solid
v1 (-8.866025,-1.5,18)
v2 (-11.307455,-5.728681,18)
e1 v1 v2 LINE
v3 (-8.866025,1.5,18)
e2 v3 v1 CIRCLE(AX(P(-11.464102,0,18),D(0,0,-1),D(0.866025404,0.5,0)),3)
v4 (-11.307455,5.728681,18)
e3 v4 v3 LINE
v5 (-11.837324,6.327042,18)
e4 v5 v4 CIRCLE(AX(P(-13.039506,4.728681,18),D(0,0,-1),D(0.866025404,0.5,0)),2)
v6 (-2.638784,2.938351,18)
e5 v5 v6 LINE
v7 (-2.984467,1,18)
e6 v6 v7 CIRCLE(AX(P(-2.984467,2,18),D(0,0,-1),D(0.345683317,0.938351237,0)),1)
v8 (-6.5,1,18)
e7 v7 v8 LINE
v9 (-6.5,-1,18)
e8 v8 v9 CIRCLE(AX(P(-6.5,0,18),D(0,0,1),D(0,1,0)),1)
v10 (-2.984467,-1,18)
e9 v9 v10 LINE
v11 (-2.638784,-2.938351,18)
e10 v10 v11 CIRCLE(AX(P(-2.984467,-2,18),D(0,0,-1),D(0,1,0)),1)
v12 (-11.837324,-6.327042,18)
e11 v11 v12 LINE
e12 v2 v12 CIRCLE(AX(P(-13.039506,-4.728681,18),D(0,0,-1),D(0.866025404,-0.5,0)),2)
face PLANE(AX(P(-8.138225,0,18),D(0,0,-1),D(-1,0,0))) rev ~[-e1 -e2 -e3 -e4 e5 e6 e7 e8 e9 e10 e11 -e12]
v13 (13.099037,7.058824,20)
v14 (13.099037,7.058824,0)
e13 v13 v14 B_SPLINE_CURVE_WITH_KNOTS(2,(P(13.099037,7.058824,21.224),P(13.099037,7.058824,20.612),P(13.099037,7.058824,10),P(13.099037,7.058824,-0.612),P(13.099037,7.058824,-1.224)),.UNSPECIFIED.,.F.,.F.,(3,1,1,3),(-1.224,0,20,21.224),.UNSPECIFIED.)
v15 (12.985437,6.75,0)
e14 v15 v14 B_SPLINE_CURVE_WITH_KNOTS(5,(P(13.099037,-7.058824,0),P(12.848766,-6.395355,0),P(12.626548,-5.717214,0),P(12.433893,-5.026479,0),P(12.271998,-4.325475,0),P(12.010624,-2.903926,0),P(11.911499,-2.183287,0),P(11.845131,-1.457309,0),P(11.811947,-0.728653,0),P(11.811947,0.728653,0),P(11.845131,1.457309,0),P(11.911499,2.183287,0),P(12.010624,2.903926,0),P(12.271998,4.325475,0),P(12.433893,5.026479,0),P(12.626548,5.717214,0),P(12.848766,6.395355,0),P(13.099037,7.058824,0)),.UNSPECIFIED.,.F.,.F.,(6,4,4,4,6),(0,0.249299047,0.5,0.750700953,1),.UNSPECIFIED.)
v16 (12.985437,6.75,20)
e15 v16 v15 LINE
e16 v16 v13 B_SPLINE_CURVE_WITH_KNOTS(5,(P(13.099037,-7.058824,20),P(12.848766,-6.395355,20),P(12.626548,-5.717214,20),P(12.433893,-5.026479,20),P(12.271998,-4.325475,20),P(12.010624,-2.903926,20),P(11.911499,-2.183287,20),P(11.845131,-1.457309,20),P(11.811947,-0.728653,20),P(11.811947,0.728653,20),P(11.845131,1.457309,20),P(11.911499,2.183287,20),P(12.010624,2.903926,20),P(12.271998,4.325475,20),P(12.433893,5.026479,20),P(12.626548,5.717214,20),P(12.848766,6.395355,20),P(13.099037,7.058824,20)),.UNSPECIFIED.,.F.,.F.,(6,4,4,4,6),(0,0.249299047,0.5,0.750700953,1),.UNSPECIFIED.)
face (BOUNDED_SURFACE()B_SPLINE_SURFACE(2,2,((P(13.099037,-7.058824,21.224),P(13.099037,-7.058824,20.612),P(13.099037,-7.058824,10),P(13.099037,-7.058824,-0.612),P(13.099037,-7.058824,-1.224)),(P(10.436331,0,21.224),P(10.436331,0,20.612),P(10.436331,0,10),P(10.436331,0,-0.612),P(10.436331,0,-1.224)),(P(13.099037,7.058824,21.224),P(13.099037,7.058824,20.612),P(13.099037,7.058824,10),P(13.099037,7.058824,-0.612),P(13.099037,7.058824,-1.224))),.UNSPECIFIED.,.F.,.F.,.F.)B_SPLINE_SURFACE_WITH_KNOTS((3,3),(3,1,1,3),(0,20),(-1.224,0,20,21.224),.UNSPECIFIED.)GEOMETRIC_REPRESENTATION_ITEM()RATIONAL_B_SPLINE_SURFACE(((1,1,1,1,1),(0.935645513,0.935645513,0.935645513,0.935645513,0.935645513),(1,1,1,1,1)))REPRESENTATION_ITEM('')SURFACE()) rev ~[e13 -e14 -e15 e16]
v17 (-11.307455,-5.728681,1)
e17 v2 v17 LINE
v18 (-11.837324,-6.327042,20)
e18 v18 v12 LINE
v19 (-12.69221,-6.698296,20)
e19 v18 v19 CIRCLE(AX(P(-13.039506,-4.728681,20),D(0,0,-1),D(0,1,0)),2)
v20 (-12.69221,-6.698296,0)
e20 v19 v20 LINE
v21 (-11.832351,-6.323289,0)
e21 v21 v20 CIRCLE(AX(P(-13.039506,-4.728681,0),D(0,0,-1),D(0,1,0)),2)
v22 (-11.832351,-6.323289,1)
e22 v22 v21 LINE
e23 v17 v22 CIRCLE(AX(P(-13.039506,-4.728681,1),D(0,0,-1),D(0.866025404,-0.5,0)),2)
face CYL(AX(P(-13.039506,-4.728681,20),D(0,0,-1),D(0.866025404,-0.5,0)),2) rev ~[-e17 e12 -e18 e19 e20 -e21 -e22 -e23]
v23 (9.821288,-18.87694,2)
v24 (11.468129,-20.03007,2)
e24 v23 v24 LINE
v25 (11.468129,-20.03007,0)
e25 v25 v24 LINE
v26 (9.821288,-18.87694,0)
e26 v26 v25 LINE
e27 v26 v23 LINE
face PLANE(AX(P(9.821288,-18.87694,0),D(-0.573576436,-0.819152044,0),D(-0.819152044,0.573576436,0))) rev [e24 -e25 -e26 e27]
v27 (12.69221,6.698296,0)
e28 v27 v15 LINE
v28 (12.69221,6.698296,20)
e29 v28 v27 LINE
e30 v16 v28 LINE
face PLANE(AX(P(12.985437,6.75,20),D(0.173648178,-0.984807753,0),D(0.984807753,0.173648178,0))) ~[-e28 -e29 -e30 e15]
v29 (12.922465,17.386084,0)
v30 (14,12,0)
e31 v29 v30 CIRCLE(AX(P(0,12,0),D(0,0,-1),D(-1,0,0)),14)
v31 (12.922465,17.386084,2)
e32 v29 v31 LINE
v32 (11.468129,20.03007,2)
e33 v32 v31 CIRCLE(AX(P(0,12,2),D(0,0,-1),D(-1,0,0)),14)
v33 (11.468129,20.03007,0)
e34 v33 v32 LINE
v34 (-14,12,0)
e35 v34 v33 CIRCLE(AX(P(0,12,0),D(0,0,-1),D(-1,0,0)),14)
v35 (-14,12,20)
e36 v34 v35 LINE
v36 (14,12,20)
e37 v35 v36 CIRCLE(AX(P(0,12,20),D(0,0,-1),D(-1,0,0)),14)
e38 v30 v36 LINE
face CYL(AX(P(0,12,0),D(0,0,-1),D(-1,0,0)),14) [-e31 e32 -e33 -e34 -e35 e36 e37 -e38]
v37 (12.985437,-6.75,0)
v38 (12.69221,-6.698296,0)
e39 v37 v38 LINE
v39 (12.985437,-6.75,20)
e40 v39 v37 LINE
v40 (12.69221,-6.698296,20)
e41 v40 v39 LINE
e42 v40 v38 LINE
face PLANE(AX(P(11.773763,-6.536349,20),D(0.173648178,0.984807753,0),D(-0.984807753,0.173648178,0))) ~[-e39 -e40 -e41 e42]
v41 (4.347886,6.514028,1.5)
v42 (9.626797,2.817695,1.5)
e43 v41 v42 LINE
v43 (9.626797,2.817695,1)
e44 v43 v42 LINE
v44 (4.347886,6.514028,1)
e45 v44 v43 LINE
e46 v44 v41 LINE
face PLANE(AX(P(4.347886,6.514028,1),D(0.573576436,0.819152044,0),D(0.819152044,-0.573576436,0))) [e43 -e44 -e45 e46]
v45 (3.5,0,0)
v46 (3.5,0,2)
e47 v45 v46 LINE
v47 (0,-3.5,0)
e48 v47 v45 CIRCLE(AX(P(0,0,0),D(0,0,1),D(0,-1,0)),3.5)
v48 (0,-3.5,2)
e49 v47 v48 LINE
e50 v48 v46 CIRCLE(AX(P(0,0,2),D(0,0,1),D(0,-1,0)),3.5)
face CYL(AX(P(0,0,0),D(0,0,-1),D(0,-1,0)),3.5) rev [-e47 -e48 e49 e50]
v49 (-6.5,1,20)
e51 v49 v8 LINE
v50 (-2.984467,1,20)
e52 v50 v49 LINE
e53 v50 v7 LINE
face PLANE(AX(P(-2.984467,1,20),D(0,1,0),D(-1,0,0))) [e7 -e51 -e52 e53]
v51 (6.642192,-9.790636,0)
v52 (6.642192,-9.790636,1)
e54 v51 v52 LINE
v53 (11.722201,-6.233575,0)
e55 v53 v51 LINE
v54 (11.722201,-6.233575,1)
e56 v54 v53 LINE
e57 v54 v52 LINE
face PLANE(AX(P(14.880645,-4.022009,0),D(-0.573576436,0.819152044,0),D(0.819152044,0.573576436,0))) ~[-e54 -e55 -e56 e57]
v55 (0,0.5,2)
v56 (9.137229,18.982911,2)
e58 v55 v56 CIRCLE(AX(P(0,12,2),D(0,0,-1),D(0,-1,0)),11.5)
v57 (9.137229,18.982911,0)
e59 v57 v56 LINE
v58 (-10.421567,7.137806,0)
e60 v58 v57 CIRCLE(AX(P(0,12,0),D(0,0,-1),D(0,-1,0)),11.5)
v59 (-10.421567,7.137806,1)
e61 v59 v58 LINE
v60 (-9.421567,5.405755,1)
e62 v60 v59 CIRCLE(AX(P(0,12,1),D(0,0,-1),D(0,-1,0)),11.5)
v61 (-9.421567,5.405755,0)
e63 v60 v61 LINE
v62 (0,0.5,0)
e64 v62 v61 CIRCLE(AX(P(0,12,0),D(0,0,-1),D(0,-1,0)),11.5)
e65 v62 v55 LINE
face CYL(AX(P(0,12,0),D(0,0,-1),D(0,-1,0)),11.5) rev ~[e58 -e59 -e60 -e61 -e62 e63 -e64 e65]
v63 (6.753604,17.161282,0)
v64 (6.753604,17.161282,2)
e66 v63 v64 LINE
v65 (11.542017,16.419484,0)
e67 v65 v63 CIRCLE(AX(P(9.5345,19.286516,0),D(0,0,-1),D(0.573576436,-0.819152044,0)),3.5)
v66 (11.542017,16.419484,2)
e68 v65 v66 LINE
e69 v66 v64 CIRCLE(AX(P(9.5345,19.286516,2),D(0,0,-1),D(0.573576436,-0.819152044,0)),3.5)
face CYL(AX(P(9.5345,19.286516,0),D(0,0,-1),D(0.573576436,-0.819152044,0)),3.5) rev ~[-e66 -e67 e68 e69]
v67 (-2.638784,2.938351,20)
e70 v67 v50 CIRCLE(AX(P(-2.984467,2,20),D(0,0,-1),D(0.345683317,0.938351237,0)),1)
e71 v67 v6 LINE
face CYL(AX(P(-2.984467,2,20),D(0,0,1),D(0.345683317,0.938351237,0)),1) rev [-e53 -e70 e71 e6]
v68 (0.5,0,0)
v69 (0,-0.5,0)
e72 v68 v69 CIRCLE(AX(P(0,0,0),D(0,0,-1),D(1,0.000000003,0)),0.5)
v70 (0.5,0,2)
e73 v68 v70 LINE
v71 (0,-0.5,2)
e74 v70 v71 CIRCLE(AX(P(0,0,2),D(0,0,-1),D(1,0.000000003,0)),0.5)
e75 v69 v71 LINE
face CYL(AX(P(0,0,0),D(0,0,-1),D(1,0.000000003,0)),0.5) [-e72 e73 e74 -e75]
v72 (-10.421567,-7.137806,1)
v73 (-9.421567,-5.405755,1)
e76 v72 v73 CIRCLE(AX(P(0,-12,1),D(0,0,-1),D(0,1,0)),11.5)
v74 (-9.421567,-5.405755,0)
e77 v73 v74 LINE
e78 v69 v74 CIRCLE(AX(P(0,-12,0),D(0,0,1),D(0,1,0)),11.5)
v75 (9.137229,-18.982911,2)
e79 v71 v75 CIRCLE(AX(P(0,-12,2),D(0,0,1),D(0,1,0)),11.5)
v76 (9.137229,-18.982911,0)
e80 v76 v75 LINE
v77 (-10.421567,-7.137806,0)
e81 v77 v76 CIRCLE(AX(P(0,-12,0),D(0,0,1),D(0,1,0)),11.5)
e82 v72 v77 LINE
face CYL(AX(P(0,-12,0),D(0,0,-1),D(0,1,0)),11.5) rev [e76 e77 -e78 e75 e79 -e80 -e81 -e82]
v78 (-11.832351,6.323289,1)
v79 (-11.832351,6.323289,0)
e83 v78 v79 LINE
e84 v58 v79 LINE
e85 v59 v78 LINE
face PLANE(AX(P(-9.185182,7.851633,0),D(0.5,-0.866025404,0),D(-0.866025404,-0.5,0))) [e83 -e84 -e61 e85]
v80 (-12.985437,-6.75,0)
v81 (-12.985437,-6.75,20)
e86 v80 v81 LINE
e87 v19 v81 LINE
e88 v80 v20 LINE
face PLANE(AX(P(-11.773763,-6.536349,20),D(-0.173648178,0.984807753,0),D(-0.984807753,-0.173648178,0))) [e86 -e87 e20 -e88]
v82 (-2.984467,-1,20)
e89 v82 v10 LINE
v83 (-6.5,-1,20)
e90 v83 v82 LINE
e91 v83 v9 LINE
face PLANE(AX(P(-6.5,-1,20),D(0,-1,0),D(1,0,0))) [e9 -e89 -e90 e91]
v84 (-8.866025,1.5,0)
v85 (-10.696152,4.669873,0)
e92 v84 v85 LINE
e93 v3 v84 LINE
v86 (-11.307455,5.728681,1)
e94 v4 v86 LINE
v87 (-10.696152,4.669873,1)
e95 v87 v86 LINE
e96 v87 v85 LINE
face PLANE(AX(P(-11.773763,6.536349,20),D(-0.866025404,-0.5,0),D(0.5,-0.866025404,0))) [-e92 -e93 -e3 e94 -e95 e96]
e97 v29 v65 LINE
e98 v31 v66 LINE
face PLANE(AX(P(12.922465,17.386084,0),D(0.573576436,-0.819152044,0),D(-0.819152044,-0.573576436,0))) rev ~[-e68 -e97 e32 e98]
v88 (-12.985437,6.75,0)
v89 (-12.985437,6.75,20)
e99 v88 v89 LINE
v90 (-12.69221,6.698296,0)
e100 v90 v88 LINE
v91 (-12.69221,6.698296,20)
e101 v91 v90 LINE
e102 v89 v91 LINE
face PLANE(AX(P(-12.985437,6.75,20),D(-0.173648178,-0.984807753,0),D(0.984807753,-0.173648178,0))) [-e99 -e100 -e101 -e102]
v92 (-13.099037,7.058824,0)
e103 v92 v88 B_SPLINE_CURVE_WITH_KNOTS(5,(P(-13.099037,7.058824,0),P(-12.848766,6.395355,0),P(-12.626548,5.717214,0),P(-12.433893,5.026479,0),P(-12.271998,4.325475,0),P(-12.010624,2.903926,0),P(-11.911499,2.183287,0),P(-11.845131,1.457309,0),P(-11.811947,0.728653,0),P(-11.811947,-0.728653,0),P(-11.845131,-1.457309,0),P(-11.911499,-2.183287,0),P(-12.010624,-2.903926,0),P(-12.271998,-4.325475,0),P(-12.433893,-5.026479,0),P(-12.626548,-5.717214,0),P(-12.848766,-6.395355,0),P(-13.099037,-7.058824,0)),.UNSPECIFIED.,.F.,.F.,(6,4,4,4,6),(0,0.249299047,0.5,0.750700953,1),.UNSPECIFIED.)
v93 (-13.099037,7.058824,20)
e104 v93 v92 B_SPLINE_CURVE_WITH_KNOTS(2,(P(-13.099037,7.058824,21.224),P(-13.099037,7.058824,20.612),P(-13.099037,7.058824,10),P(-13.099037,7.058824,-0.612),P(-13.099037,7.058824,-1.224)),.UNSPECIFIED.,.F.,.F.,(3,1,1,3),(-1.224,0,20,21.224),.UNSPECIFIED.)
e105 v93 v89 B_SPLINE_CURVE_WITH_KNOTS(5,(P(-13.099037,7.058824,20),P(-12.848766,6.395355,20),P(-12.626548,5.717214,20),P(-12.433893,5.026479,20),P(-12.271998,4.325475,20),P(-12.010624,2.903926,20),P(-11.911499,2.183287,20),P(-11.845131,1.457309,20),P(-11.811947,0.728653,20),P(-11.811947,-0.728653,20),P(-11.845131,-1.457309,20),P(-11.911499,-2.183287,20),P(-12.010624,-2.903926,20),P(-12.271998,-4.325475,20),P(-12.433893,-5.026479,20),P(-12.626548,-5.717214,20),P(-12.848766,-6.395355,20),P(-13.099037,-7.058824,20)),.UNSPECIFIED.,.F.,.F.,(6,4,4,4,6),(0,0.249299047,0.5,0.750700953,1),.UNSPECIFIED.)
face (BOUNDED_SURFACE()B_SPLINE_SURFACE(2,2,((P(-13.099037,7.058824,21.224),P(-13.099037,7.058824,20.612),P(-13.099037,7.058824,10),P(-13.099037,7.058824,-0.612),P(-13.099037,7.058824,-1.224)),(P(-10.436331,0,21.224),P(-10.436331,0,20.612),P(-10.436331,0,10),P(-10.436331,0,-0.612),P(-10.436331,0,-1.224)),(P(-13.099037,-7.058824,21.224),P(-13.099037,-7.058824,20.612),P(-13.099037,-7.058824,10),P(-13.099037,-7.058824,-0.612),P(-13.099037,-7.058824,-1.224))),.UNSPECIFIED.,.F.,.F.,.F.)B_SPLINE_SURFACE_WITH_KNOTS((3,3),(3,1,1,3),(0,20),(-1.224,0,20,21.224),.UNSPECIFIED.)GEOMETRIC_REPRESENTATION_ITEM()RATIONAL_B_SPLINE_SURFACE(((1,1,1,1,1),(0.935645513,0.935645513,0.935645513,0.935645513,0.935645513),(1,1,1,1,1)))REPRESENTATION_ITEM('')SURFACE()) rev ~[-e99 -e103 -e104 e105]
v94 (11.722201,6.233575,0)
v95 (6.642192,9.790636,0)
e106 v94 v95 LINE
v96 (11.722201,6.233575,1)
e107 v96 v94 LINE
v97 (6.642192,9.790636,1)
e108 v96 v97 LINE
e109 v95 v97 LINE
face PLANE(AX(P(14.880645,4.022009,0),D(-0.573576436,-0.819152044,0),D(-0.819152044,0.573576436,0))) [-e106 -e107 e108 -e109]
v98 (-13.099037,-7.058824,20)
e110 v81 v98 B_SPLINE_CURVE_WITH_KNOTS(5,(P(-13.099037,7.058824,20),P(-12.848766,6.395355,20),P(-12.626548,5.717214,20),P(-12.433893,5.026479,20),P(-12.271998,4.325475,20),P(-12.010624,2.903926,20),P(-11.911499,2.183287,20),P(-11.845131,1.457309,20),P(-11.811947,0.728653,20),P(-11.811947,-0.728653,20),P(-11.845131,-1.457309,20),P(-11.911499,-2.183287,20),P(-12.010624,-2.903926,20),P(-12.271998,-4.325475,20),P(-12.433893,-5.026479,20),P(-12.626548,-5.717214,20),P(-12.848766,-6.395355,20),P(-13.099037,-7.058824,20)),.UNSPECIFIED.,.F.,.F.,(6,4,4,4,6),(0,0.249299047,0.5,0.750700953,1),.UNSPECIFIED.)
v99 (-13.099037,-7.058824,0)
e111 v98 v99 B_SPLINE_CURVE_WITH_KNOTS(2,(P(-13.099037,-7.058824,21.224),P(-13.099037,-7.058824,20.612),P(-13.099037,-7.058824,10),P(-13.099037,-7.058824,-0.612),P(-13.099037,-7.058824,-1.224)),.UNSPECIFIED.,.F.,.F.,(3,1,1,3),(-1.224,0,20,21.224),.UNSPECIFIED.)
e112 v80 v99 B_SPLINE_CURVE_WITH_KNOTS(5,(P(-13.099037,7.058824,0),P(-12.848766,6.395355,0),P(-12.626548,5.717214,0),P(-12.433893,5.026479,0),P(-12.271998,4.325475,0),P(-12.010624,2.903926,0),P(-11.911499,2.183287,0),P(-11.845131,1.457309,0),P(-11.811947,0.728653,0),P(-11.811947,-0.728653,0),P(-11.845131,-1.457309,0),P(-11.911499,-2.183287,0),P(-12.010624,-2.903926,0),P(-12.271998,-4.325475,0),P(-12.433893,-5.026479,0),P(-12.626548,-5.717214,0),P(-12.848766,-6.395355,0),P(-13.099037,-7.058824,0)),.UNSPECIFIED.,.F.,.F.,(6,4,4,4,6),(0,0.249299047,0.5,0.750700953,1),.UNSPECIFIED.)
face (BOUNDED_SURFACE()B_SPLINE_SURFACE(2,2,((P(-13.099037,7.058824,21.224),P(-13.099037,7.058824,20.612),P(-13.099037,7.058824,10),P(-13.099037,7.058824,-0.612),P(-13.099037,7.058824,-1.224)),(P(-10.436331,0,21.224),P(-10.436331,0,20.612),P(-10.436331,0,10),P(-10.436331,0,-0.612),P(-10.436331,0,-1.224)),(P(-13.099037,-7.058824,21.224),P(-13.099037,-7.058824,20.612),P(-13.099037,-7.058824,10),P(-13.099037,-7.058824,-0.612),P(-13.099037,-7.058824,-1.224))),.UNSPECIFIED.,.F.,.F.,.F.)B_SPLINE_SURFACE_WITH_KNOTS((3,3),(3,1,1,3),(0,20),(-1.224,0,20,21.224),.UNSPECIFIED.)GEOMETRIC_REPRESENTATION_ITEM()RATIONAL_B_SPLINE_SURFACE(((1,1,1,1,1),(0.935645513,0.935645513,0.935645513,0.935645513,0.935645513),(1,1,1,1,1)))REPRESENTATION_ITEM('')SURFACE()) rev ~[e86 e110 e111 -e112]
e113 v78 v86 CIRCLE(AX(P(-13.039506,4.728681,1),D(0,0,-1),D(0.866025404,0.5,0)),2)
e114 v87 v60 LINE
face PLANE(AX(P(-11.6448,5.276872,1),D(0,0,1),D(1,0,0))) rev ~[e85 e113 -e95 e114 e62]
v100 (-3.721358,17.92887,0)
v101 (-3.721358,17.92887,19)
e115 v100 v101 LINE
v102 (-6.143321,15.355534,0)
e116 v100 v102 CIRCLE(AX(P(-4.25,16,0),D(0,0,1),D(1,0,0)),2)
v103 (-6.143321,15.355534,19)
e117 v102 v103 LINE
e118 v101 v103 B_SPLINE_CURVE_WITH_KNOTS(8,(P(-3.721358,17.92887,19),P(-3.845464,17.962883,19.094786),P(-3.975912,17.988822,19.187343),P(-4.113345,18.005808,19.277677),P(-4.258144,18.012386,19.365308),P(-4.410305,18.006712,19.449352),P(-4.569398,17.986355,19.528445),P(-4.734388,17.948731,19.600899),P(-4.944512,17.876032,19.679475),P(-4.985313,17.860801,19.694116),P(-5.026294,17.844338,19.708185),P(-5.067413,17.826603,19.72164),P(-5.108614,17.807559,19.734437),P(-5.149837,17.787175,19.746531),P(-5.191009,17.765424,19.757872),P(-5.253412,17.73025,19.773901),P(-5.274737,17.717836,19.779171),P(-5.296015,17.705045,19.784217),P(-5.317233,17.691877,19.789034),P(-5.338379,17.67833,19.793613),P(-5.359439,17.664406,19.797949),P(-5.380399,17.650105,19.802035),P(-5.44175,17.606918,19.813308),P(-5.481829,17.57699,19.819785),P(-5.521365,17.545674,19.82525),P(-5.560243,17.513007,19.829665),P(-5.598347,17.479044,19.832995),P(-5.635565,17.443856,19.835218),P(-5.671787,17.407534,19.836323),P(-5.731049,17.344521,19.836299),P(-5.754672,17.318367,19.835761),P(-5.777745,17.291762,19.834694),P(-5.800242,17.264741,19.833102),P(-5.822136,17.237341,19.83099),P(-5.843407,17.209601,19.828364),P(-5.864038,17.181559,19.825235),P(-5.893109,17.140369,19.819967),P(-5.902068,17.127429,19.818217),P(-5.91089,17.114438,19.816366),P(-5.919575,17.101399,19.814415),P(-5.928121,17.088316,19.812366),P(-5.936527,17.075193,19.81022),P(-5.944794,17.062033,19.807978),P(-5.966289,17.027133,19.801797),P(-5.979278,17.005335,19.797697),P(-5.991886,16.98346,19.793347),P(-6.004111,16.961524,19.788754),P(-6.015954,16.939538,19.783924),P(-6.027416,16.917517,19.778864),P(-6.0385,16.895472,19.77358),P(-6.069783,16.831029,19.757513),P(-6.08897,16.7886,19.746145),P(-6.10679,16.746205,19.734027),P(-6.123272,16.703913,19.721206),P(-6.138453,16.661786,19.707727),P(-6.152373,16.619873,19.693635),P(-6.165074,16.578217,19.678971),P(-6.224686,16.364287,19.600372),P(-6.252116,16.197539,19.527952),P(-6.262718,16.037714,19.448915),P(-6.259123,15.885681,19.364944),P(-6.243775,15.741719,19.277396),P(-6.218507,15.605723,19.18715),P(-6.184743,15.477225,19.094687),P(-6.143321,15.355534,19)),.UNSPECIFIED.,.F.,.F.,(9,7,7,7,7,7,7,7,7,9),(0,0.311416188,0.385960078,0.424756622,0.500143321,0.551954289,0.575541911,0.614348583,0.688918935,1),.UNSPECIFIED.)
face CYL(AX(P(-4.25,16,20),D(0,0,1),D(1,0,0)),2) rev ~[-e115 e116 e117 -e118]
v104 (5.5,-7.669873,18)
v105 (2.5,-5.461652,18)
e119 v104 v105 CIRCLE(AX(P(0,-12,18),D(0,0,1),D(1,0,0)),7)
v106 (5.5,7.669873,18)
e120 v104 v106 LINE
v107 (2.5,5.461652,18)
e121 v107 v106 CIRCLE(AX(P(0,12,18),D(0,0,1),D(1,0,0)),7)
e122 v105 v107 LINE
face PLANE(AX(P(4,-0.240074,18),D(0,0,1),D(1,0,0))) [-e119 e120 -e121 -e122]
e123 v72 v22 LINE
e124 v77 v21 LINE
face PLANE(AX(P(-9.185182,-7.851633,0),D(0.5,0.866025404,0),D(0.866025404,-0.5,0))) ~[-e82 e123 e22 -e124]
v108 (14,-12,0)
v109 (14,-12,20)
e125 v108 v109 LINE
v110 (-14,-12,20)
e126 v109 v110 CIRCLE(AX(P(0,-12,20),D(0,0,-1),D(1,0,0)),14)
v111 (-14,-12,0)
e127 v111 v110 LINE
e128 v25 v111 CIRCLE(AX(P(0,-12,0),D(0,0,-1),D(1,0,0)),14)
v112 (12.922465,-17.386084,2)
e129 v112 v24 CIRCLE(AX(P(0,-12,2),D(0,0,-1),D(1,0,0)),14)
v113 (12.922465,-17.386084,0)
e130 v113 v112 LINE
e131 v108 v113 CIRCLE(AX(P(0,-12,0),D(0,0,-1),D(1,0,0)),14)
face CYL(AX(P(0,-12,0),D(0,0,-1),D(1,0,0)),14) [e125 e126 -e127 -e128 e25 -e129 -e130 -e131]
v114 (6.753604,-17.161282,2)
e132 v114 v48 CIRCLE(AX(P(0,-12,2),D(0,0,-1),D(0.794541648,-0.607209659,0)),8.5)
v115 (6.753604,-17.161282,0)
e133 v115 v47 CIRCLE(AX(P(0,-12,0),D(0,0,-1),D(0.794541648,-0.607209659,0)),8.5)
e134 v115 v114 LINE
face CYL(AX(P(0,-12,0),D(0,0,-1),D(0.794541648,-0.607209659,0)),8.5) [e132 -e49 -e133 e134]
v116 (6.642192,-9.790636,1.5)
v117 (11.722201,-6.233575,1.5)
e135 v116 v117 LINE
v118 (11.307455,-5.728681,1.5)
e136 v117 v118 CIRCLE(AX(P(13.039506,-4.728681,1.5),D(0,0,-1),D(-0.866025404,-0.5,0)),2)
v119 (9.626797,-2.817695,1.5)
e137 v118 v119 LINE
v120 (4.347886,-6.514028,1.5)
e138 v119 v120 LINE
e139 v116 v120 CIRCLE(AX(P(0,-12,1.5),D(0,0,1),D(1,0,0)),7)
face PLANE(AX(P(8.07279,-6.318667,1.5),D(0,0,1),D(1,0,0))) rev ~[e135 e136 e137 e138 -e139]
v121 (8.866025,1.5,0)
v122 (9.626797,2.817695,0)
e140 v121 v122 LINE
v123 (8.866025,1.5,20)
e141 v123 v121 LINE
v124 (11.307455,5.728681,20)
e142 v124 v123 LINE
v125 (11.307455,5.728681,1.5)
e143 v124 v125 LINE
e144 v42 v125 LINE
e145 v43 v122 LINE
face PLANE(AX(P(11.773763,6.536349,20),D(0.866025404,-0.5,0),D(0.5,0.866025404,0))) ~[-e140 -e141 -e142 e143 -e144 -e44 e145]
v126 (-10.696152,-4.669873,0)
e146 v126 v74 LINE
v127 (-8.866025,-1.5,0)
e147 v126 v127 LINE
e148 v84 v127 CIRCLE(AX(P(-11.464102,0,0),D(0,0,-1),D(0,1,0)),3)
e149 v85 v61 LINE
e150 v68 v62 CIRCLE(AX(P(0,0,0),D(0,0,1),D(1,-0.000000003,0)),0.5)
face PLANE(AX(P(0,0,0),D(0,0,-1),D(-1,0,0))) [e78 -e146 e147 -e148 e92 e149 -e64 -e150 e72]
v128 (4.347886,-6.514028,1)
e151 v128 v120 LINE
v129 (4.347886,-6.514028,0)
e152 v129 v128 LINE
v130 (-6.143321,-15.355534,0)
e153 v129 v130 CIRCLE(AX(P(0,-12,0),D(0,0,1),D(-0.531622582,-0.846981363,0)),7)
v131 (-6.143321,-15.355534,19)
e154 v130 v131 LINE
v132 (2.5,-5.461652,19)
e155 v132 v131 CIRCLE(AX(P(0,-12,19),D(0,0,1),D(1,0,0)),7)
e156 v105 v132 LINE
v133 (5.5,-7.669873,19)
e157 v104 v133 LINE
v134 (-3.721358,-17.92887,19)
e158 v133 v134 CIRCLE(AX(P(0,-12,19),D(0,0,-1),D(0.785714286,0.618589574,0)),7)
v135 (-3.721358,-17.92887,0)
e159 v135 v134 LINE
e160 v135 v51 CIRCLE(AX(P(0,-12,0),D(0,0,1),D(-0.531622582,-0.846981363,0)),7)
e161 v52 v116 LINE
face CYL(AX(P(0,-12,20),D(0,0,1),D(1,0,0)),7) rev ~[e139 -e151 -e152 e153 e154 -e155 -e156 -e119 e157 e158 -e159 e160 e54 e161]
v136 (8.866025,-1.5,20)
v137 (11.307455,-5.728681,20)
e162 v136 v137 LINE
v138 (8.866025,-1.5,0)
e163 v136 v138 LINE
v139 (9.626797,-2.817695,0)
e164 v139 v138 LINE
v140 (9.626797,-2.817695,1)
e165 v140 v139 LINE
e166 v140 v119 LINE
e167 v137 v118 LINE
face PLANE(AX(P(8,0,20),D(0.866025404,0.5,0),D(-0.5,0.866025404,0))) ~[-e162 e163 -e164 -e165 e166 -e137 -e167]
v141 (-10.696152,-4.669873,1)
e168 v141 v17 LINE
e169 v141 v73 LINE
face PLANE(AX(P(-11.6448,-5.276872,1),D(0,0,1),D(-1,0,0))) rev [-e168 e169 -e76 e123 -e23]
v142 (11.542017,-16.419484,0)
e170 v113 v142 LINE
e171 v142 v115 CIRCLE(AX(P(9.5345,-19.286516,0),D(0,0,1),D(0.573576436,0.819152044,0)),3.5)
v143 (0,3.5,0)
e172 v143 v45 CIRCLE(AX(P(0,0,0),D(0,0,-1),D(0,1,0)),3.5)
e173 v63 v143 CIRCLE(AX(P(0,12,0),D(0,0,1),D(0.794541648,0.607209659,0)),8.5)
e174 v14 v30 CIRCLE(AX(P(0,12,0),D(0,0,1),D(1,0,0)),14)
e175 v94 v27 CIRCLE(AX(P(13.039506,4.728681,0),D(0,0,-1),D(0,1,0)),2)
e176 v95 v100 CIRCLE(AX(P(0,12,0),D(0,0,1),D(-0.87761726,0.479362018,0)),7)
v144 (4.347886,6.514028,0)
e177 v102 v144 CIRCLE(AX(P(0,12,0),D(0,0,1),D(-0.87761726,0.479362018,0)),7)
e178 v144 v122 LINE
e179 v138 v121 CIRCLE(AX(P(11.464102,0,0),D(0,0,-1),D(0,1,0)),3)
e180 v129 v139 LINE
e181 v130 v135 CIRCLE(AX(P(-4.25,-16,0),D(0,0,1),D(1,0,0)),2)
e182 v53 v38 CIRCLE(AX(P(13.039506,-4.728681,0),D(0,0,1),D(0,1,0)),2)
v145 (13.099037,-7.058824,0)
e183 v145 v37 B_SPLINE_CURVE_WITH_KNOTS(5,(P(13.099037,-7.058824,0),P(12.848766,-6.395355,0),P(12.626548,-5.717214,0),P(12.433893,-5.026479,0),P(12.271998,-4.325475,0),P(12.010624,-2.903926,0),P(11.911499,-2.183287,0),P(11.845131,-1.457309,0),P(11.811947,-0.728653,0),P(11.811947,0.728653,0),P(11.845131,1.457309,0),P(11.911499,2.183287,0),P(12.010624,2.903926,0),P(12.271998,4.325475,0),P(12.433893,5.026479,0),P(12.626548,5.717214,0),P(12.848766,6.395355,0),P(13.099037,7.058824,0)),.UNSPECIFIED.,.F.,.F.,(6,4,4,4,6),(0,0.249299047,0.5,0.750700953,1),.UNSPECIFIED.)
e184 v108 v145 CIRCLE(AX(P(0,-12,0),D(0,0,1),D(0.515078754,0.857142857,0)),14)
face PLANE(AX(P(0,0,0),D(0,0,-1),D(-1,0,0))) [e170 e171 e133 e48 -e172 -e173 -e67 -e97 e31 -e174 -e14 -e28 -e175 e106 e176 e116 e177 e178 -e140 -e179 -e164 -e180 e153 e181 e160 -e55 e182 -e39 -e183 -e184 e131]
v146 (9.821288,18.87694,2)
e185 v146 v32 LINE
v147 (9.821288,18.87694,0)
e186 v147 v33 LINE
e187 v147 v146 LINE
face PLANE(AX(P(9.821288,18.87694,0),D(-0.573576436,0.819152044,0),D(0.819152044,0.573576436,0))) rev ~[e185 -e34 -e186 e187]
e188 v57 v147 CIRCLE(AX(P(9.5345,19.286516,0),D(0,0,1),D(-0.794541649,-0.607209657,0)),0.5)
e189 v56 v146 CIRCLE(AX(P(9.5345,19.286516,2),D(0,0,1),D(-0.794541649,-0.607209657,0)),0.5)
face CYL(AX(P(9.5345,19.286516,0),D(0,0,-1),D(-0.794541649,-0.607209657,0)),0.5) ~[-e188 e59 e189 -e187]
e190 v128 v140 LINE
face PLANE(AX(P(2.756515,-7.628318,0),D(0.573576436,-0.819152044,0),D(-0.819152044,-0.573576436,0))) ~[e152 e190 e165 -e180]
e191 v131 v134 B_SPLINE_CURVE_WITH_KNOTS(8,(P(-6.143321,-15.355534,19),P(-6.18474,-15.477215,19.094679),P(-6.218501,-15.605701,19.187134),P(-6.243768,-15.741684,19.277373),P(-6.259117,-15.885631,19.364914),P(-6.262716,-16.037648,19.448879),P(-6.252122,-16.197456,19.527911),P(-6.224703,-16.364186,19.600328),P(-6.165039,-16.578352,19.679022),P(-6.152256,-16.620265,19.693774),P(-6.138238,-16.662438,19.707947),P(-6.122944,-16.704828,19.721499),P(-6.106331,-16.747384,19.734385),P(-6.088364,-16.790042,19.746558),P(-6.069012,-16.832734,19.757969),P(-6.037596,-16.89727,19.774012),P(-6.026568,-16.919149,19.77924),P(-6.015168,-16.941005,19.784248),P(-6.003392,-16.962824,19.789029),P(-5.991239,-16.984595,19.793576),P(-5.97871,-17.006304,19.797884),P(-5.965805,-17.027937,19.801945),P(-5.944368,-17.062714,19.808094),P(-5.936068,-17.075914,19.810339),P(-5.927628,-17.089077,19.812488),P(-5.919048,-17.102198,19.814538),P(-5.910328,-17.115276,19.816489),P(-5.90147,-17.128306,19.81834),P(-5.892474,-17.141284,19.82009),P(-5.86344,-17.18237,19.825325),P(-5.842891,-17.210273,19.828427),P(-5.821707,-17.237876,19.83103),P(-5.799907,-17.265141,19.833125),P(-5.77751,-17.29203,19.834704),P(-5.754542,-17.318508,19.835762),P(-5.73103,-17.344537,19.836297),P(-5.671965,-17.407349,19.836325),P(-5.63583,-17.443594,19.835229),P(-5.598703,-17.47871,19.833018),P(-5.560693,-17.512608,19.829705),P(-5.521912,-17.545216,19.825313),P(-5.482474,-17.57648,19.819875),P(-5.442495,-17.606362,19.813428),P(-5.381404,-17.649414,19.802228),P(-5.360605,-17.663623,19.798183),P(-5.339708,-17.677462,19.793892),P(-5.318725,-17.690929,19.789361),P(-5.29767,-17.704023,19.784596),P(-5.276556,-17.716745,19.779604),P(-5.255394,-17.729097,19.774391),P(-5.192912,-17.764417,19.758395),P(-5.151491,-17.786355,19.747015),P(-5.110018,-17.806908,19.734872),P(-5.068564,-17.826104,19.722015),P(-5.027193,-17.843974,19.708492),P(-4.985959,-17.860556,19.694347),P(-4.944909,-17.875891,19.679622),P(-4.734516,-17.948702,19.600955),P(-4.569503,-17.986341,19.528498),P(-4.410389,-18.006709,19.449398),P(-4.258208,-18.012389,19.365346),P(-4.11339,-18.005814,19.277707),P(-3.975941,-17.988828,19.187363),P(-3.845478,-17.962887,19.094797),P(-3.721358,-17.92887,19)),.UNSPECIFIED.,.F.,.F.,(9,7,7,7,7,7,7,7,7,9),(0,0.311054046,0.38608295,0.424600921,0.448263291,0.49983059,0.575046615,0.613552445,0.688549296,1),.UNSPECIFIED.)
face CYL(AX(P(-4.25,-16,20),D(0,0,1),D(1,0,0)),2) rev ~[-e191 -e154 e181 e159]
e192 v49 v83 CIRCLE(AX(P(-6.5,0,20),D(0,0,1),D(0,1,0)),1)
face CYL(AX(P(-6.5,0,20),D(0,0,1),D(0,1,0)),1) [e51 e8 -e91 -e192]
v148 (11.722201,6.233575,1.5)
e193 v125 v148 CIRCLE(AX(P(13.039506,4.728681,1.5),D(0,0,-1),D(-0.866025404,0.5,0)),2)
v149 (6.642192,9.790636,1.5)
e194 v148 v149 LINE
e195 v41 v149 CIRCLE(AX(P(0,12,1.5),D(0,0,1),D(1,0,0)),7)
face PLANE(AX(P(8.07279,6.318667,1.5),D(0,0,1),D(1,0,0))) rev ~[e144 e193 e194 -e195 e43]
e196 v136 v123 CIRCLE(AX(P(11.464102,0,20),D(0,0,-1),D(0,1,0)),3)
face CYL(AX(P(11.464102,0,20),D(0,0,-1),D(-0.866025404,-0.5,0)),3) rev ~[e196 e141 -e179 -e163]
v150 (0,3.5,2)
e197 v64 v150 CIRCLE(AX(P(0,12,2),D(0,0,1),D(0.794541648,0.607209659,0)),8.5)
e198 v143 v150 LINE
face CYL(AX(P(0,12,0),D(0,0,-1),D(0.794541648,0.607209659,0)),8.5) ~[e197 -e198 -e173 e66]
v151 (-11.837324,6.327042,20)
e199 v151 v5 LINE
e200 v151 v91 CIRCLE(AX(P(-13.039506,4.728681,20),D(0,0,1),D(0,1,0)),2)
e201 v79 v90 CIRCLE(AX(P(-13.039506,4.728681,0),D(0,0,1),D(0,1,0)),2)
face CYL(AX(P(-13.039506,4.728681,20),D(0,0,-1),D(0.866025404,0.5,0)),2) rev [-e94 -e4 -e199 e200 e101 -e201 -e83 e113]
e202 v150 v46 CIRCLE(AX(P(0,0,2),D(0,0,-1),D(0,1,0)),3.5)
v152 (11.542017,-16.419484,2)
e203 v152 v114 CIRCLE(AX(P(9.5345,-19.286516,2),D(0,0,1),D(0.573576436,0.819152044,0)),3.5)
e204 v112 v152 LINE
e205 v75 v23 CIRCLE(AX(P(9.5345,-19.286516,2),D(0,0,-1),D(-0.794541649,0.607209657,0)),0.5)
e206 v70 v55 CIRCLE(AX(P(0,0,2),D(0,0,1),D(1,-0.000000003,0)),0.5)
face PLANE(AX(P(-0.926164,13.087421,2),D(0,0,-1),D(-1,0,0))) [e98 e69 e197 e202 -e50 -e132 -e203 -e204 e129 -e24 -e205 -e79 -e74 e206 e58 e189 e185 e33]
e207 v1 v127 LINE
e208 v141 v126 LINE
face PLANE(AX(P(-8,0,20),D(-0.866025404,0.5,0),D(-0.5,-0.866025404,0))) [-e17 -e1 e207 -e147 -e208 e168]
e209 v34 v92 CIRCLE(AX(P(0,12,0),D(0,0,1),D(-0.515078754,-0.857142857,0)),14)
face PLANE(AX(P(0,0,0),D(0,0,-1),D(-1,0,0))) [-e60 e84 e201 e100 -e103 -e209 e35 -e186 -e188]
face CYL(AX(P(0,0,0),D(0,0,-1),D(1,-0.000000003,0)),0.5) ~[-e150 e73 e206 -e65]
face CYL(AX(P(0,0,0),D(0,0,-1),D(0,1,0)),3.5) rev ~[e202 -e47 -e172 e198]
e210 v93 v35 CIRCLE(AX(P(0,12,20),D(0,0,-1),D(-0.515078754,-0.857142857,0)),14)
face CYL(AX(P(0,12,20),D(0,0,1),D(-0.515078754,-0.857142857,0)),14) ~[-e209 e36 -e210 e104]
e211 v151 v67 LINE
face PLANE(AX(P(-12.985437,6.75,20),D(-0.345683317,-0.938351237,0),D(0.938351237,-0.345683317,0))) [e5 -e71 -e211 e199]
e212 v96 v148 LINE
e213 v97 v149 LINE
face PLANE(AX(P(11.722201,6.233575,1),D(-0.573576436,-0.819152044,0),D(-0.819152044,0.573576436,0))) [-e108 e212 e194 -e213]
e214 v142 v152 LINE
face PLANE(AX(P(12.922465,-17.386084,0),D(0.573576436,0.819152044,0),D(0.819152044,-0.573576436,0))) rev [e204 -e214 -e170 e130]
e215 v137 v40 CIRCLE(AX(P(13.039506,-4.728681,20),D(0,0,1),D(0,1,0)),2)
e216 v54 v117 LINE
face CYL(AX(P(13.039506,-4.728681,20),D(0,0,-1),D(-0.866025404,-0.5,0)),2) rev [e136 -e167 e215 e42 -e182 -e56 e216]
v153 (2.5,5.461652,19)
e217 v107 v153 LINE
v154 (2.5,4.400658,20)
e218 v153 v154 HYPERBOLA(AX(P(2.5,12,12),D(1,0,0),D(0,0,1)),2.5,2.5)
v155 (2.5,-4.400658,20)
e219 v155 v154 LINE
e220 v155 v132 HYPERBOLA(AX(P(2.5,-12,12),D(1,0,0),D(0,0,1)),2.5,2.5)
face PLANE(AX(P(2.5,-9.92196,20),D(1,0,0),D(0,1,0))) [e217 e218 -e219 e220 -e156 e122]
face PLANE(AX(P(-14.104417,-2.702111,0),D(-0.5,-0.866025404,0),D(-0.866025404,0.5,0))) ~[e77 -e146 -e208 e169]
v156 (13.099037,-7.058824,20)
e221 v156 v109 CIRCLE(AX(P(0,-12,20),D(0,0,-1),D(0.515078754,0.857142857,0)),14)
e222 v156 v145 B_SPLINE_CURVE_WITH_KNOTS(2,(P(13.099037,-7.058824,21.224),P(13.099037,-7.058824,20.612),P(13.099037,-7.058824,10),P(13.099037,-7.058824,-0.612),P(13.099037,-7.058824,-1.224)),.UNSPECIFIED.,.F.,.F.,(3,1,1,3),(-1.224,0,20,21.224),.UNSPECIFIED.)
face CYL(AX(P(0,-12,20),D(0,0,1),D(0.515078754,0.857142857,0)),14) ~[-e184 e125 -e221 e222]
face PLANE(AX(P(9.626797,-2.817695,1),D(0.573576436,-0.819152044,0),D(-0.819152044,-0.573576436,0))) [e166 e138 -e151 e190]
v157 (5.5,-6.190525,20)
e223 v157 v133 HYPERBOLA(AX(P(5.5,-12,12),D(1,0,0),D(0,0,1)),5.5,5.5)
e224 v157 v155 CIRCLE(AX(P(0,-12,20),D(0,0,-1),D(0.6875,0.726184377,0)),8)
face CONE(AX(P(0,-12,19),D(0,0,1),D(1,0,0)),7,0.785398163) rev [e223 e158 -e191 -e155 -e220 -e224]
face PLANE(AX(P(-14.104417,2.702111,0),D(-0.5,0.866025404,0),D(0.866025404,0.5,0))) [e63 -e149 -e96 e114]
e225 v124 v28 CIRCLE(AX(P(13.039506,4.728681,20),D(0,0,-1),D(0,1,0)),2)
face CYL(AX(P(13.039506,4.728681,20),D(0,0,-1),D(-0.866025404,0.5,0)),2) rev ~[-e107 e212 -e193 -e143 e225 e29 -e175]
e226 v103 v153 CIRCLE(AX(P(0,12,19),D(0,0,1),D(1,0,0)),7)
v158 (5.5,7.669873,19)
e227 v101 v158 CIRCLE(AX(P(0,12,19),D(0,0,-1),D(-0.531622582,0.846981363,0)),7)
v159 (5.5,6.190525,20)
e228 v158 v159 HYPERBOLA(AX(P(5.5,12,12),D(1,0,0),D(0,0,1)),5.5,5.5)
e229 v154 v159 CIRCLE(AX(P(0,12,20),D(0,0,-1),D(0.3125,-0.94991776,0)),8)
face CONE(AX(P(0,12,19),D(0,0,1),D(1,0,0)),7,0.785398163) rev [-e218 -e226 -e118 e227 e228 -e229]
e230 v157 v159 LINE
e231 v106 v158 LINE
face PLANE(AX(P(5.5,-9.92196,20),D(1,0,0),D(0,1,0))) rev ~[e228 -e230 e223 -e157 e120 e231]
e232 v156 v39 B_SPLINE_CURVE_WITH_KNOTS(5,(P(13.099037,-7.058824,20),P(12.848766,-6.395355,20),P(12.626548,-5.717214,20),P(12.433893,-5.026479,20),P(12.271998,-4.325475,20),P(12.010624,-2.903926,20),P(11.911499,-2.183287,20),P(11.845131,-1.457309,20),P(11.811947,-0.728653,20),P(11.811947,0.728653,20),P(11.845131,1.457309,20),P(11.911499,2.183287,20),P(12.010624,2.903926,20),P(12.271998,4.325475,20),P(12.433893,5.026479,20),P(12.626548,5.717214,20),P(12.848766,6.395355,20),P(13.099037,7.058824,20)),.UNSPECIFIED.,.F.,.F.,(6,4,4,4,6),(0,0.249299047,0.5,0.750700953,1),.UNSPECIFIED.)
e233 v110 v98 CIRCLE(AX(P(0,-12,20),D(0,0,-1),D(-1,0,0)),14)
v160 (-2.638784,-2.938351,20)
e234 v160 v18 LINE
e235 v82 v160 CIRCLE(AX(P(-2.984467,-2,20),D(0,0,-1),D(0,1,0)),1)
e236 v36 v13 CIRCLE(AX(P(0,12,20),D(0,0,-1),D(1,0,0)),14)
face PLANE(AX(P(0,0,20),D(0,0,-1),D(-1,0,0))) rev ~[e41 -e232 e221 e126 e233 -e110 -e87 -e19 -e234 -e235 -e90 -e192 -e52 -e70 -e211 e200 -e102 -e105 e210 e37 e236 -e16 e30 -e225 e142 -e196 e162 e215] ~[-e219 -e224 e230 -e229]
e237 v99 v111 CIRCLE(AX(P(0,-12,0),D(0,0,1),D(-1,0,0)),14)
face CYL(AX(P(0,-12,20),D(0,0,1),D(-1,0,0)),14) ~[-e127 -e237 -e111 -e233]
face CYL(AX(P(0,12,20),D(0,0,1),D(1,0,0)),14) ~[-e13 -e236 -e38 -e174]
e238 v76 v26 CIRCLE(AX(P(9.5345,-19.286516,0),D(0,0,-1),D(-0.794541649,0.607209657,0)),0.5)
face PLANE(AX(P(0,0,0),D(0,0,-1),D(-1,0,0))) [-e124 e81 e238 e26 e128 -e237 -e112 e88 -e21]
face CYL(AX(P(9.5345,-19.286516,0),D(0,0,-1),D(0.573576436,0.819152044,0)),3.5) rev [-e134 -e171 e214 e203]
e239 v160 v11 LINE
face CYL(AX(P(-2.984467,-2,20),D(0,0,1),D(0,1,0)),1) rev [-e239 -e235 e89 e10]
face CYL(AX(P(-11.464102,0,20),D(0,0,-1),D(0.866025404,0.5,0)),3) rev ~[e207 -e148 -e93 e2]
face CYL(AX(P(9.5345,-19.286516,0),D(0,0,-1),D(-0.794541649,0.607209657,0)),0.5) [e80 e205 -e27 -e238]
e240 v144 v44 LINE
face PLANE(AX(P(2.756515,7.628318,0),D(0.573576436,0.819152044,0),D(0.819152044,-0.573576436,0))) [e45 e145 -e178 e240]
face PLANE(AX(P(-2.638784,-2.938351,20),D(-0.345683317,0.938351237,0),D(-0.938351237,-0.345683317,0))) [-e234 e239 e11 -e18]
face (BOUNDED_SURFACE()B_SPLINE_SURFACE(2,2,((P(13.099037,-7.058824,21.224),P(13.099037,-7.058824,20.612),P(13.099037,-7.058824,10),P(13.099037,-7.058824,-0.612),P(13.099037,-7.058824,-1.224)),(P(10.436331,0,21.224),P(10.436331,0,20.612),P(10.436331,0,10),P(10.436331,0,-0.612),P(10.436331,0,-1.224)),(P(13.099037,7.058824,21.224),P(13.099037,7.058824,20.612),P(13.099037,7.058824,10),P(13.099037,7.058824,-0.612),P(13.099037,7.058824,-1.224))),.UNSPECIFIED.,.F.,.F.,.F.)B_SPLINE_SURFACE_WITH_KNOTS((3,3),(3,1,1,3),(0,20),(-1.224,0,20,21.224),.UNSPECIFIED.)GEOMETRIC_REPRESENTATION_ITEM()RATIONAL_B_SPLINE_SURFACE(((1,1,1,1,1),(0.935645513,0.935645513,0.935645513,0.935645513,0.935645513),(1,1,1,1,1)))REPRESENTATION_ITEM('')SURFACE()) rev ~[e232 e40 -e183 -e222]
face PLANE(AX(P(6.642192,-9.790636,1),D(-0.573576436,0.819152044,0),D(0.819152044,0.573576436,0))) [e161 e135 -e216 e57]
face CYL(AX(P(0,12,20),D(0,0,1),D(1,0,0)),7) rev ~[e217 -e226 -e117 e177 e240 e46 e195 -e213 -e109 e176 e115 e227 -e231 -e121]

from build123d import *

# Parameters (mm, degrees)
BOSS_EXTRU_1_DEPTH       = 20
ESQUISSE2_R              = 7
ENL_V_MAT_EXTRU_1_DEPTH  = 36.665109
CHANFREIN1_SIZE          = 1
ENL_V_MAT_EXTRU_3_DEPTH  = 36.665109
CONG_1_R                 = 20
ENL_V_MAT_EXTRU_4_DEPTH  = 36.665109168
CONG_2_R                 = 3
CONG_3_R                 = 2
CONG_2_OF_SYM_TRIE1_R    = 3
CONG_3_OF_SYM_TRIE1_R    = 2
ESQUISSE7_W              = 3
ESQUISSE7_H              = 19.363772413
ENL_V_MAT_EXTRU_5_DEPTH  = 2
ESQUISSE8_R              = 2
ENL_V_MAT_EXTRU_6_DEPTH  = 36.665109168
ENL_V_MAT_EXTRU_7_DEPTH  = 2
ENL_V_MAT_EXTRU_8_DEPTH  = 1
ENL_V_MAT_EXTRU_9_DEPTH  = 2
ENL_V_MAT_EXTRU_10_DEPTH = 0.5


with BuildPart() as part:
    # Esquisse1 → Boss.-Extru.1 (new body)
    with BuildSketch(Plane.XY):
        with BuildLine():
            Line((-14, -12), (-14, 12))
            ThreePointArc((-14, 12), (0, 26), (14, 12))
            Line((14, 12), (14, -12))
            ThreePointArc((14, -12), (0, -26), (-14, -12))
        make_face()
    extrude(amount=BOSS_EXTRU_1_DEPTH)

    # Esquisse2 → Enlèv. mat.-Extru.1 (cut, through all)
    with BuildSketch(Plane.XY.offset(20)):
        with Locations((0, 12)):
            Circle(ESQUISSE2_R)
        with Locations((0, -12)):
            Circle(ESQUISSE2_R)
    extrude(amount=-ENL_V_MAT_EXTRU_1_DEPTH, mode=Mode.SUBTRACT)

    # Chanfrein1
    chanfrein1_edges = [part.edges().sort_by_distance(p)[0] for p in [
        (-7, 12, 20),
        (-7, -12, 20),
    ]]
    chamfer(chanfrein1_edges, length=CHANFREIN1_SIZE)

    # Esquisse3 → Enlèv. mat.-Extru.3 (cut, through all)
    with BuildSketch(Plane.XY.offset(20)):
        with BuildLine():
            Line((-14, 12), (-14, -12))
            ThreePointArc((-14, -12), (-12.185143325, -5.106359297), (-7.211102551, 0))
            ThreePointArc((-7.211102551, 0), (-12.185143325, 5.106359297), (-14, 12))
        make_face()
        with BuildLine():
            Line((14, -12), (14, 12))
            ThreePointArc((14, 12), (12.185143325, 5.106359297), (7.211102551, 0))
            ThreePointArc((7.211102551, 0), (12.185143325, -5.106359297), (14, -12))
        make_face()
    extrude(amount=-ENL_V_MAT_EXTRU_3_DEPTH, mode=Mode.SUBTRACT)

    # Congé1
    cong_1_edges = [part.edges().sort_by_distance(p)[0] for p in [
        (7.211102551, 0, 10),
        (-7.211102551, 0, 10),
    ]]
    fillet(cong_1_edges, radius=CONG_1_R)

    # Esquisse6 → Enlèv. mat.-Extru.4 (cut, through all)
    with BuildSketch(Plane.XY.offset(20)):
        Polygon((-12.985436878, 6.75), (-11.773762969, 6.536349198), (-8, 0), (-11.773762969, -6.536349198), (-12.985436878, -6.75), align=None)
    enl_v_mat_extru_4 = extrude(amount=-ENL_V_MAT_EXTRU_4_DEPTH, mode=Mode.SUBTRACT)

    # Congé2
    cong_2_edges = [part.edges().sort_by_distance(p)[0] for p in [
        (-8, 0, 10),
    ]]
    fillet(cong_2_edges, radius=CONG_2_R)

    # Congé3
    cong_3_edges = [part.edges().sort_by_distance(p)[0] for p in [
        (-11.773762969, 6.536349198, 10),
        (-11.773762969, -6.536349198, 10),
    ]]
    fillet(cong_3_edges, radius=CONG_3_R)

    # Symétrie1: Enlèv. mat.-Extru.4 across plane
    add(enl_v_mat_extru_4.mirror(Plane(origin=(0, 0, 0), x_dir=(0, 0, 1), z_dir=(1, 0, 0))), mode=Mode.SUBTRACT)

    # Congé2 of Symétrie1
    cong_2_of_sym_trie1_edges = [part.edges().sort_by_distance(p)[0] for p in [
        (8, 0, 10),
    ]]
    fillet(cong_2_of_sym_trie1_edges, radius=CONG_2_OF_SYM_TRIE1_R)

    # Congé3 of Symétrie1
    cong_3_of_sym_trie1_edges = [part.edges().sort_by_distance(p)[0] for p in [
        (11.773762969, 6.536349198, 10),
        (11.773762969, -6.536349198, 10),
    ]]
    fillet(cong_3_of_sym_trie1_edges, radius=CONG_3_OF_SYM_TRIE1_R)

    # Esquisse7 → Enlèv. mat.-Extru.5 (cut)
    with BuildSketch(Plane.XY.offset(20)):
        with Locations((4, -0.240073956)):
            Rectangle(ESQUISSE7_W, ESQUISSE7_H)
    extrude(amount=-ENL_V_MAT_EXTRU_5_DEPTH, mode=Mode.SUBTRACT)

    # Esquisse8 → Enlèv. mat.-Extru.6 (cut, through all)
    with BuildSketch(Plane.XY.offset(20)):
        with Locations((-4.25, 16)):
            Circle(ESQUISSE8_R)
        with Locations((-4.25, -16)):
            Circle(ESQUISSE8_R)
    extrude(amount=-ENL_V_MAT_EXTRU_6_DEPTH, mode=Mode.SUBTRACT)

    # Esquisse9 → Enlèv. mat.-Extru.7 (cut)
    with BuildSketch(Plane.XY.offset(20)):
        with BuildLine():
            Line((-12.985436878, 6.75), (-2.638783858, 2.938351237))
            ThreePointArc((-2.638783858, 2.938351237), (-2, 1.824431263), (-2.984467175, 1))
            Line((-2.984467175, 1), (-6.5, 1))
            ThreePointArc((-6.5, 1), (-7.5, 0), (-6.5, -1))
            Line((-6.5, -1), (-2.984467175, -1))
            ThreePointArc((-2.984467175, -1), (-2, -1.824431263), (-2.638783858, -2.938351237))
            Line((-2.638783858, -2.938351237), (-12.985436878, -6.75))
            Line((-12.985436878, -6.75), (-12.985436878, 6.75))
        make_face()
    extrude(amount=-ENL_V_MAT_EXTRU_7_DEPTH, mode=Mode.SUBTRACT)

    # Esquisse10 → Enlèv. mat.-Extru.8 (cut)
    with BuildSketch(Plane(origin=(0, 0, 0), x_dir=(-1, 0, 0), z_dir=(0, 0, -1))):
        Polygon((-14.880645038, 4.022009348), (-5.050820507, 10.904926585), (-2.756514761, 7.628318408), (-12.586339293, 0.745401171), align=None)
        Polygon((14.104417015, 2.702110502), (8.18518219, 6.119582321), (9.18518219, 7.851633128), (15.104417015, 4.434161309), align=None)
    enl_v_mat_extru_8 = extrude(amount=-ENL_V_MAT_EXTRU_8_DEPTH, mode=Mode.SUBTRACT)

    # Symétrie2: Enlèv. mat.-Extru.8 across plane
    add(enl_v_mat_extru_8.mirror(Plane.ZX), mode=Mode.SUBTRACT)

    # Esquisse11 → Enlèv. mat.-Extru.9 (cut)
    with BuildSketch(Plane(origin=(0, 0, 0), x_dir=(-1, 0, 0), z_dir=(0, 0, -1))):
        with BuildLine():
            Line((-9.821287991, 18.876939886), (-11.46812862, 20.030070109))
            Line((-11.46812862, 20.030070109), (-13.322410066, 19.286515908))
            Line((-13.322410066, 19.286515908), (-12.922465041, 17.386083667))
            Line((-12.922465041, 17.386083667), (-11.5420173, 16.419483753))
            ThreePointArc((-11.5420173, 16.419483753), (-8.998687611, 15.827772592), (-6.753604006, 17.161282102))
            ThreePointArc((-6.753604006, 17.161282102), (7.619740739, 15.766902052), (0, 3.5))
            ThreePointArc((0, 3.5), (-2.474873734, 2.474873734), (-3.5, 0))
            Line((-3.5, 0), (-0.5, 0))
            ThreePointArc((-0.5, 0), (-0.353553391, 0.353553391), (0, 0.5))
            ThreePointArc((0, 0.5), (10.309061, 17.096396894), (-9.137228949, 18.982911079))
            ThreePointArc((-9.137228949, 18.982911079), (-9.457955178, 18.79240972), (-9.821287991, 18.876939886))
        make_face()
    enl_v_mat_extru_9 = extrude(amount=-ENL_V_MAT_EXTRU_9_DEPTH, mode=Mode.SUBTRACT)

    # Esquisse12 → Enlèv. mat.-Extru.10 (cut)
    with BuildSketch(Plane(origin=(0, 0, 1), x_dir=(-1, 0, 0), z_dir=(0, 0, -1))):
        Polygon((-11.722201386, 6.233575403), (-6.642191838, 9.790636383), (-4.347886092, 6.514028206), (-9.626796974, 2.817695012), align=None)
        Polygon((-9.626796974, -2.817695012), (-4.347886092, -6.514028206), (-6.642191838, -9.790636383), (-11.722201386, -6.233575403), align=None)
    extrude(amount=-ENL_V_MAT_EXTRU_10_DEPTH, mode=Mode.SUBTRACT)

    # Symétrie3: Enlèv. mat.-Extru.9 across plane
    add(enl_v_mat_extru_9.mirror(Plane.ZX), mode=Mode.SUBTRACT)


solid = part.part
